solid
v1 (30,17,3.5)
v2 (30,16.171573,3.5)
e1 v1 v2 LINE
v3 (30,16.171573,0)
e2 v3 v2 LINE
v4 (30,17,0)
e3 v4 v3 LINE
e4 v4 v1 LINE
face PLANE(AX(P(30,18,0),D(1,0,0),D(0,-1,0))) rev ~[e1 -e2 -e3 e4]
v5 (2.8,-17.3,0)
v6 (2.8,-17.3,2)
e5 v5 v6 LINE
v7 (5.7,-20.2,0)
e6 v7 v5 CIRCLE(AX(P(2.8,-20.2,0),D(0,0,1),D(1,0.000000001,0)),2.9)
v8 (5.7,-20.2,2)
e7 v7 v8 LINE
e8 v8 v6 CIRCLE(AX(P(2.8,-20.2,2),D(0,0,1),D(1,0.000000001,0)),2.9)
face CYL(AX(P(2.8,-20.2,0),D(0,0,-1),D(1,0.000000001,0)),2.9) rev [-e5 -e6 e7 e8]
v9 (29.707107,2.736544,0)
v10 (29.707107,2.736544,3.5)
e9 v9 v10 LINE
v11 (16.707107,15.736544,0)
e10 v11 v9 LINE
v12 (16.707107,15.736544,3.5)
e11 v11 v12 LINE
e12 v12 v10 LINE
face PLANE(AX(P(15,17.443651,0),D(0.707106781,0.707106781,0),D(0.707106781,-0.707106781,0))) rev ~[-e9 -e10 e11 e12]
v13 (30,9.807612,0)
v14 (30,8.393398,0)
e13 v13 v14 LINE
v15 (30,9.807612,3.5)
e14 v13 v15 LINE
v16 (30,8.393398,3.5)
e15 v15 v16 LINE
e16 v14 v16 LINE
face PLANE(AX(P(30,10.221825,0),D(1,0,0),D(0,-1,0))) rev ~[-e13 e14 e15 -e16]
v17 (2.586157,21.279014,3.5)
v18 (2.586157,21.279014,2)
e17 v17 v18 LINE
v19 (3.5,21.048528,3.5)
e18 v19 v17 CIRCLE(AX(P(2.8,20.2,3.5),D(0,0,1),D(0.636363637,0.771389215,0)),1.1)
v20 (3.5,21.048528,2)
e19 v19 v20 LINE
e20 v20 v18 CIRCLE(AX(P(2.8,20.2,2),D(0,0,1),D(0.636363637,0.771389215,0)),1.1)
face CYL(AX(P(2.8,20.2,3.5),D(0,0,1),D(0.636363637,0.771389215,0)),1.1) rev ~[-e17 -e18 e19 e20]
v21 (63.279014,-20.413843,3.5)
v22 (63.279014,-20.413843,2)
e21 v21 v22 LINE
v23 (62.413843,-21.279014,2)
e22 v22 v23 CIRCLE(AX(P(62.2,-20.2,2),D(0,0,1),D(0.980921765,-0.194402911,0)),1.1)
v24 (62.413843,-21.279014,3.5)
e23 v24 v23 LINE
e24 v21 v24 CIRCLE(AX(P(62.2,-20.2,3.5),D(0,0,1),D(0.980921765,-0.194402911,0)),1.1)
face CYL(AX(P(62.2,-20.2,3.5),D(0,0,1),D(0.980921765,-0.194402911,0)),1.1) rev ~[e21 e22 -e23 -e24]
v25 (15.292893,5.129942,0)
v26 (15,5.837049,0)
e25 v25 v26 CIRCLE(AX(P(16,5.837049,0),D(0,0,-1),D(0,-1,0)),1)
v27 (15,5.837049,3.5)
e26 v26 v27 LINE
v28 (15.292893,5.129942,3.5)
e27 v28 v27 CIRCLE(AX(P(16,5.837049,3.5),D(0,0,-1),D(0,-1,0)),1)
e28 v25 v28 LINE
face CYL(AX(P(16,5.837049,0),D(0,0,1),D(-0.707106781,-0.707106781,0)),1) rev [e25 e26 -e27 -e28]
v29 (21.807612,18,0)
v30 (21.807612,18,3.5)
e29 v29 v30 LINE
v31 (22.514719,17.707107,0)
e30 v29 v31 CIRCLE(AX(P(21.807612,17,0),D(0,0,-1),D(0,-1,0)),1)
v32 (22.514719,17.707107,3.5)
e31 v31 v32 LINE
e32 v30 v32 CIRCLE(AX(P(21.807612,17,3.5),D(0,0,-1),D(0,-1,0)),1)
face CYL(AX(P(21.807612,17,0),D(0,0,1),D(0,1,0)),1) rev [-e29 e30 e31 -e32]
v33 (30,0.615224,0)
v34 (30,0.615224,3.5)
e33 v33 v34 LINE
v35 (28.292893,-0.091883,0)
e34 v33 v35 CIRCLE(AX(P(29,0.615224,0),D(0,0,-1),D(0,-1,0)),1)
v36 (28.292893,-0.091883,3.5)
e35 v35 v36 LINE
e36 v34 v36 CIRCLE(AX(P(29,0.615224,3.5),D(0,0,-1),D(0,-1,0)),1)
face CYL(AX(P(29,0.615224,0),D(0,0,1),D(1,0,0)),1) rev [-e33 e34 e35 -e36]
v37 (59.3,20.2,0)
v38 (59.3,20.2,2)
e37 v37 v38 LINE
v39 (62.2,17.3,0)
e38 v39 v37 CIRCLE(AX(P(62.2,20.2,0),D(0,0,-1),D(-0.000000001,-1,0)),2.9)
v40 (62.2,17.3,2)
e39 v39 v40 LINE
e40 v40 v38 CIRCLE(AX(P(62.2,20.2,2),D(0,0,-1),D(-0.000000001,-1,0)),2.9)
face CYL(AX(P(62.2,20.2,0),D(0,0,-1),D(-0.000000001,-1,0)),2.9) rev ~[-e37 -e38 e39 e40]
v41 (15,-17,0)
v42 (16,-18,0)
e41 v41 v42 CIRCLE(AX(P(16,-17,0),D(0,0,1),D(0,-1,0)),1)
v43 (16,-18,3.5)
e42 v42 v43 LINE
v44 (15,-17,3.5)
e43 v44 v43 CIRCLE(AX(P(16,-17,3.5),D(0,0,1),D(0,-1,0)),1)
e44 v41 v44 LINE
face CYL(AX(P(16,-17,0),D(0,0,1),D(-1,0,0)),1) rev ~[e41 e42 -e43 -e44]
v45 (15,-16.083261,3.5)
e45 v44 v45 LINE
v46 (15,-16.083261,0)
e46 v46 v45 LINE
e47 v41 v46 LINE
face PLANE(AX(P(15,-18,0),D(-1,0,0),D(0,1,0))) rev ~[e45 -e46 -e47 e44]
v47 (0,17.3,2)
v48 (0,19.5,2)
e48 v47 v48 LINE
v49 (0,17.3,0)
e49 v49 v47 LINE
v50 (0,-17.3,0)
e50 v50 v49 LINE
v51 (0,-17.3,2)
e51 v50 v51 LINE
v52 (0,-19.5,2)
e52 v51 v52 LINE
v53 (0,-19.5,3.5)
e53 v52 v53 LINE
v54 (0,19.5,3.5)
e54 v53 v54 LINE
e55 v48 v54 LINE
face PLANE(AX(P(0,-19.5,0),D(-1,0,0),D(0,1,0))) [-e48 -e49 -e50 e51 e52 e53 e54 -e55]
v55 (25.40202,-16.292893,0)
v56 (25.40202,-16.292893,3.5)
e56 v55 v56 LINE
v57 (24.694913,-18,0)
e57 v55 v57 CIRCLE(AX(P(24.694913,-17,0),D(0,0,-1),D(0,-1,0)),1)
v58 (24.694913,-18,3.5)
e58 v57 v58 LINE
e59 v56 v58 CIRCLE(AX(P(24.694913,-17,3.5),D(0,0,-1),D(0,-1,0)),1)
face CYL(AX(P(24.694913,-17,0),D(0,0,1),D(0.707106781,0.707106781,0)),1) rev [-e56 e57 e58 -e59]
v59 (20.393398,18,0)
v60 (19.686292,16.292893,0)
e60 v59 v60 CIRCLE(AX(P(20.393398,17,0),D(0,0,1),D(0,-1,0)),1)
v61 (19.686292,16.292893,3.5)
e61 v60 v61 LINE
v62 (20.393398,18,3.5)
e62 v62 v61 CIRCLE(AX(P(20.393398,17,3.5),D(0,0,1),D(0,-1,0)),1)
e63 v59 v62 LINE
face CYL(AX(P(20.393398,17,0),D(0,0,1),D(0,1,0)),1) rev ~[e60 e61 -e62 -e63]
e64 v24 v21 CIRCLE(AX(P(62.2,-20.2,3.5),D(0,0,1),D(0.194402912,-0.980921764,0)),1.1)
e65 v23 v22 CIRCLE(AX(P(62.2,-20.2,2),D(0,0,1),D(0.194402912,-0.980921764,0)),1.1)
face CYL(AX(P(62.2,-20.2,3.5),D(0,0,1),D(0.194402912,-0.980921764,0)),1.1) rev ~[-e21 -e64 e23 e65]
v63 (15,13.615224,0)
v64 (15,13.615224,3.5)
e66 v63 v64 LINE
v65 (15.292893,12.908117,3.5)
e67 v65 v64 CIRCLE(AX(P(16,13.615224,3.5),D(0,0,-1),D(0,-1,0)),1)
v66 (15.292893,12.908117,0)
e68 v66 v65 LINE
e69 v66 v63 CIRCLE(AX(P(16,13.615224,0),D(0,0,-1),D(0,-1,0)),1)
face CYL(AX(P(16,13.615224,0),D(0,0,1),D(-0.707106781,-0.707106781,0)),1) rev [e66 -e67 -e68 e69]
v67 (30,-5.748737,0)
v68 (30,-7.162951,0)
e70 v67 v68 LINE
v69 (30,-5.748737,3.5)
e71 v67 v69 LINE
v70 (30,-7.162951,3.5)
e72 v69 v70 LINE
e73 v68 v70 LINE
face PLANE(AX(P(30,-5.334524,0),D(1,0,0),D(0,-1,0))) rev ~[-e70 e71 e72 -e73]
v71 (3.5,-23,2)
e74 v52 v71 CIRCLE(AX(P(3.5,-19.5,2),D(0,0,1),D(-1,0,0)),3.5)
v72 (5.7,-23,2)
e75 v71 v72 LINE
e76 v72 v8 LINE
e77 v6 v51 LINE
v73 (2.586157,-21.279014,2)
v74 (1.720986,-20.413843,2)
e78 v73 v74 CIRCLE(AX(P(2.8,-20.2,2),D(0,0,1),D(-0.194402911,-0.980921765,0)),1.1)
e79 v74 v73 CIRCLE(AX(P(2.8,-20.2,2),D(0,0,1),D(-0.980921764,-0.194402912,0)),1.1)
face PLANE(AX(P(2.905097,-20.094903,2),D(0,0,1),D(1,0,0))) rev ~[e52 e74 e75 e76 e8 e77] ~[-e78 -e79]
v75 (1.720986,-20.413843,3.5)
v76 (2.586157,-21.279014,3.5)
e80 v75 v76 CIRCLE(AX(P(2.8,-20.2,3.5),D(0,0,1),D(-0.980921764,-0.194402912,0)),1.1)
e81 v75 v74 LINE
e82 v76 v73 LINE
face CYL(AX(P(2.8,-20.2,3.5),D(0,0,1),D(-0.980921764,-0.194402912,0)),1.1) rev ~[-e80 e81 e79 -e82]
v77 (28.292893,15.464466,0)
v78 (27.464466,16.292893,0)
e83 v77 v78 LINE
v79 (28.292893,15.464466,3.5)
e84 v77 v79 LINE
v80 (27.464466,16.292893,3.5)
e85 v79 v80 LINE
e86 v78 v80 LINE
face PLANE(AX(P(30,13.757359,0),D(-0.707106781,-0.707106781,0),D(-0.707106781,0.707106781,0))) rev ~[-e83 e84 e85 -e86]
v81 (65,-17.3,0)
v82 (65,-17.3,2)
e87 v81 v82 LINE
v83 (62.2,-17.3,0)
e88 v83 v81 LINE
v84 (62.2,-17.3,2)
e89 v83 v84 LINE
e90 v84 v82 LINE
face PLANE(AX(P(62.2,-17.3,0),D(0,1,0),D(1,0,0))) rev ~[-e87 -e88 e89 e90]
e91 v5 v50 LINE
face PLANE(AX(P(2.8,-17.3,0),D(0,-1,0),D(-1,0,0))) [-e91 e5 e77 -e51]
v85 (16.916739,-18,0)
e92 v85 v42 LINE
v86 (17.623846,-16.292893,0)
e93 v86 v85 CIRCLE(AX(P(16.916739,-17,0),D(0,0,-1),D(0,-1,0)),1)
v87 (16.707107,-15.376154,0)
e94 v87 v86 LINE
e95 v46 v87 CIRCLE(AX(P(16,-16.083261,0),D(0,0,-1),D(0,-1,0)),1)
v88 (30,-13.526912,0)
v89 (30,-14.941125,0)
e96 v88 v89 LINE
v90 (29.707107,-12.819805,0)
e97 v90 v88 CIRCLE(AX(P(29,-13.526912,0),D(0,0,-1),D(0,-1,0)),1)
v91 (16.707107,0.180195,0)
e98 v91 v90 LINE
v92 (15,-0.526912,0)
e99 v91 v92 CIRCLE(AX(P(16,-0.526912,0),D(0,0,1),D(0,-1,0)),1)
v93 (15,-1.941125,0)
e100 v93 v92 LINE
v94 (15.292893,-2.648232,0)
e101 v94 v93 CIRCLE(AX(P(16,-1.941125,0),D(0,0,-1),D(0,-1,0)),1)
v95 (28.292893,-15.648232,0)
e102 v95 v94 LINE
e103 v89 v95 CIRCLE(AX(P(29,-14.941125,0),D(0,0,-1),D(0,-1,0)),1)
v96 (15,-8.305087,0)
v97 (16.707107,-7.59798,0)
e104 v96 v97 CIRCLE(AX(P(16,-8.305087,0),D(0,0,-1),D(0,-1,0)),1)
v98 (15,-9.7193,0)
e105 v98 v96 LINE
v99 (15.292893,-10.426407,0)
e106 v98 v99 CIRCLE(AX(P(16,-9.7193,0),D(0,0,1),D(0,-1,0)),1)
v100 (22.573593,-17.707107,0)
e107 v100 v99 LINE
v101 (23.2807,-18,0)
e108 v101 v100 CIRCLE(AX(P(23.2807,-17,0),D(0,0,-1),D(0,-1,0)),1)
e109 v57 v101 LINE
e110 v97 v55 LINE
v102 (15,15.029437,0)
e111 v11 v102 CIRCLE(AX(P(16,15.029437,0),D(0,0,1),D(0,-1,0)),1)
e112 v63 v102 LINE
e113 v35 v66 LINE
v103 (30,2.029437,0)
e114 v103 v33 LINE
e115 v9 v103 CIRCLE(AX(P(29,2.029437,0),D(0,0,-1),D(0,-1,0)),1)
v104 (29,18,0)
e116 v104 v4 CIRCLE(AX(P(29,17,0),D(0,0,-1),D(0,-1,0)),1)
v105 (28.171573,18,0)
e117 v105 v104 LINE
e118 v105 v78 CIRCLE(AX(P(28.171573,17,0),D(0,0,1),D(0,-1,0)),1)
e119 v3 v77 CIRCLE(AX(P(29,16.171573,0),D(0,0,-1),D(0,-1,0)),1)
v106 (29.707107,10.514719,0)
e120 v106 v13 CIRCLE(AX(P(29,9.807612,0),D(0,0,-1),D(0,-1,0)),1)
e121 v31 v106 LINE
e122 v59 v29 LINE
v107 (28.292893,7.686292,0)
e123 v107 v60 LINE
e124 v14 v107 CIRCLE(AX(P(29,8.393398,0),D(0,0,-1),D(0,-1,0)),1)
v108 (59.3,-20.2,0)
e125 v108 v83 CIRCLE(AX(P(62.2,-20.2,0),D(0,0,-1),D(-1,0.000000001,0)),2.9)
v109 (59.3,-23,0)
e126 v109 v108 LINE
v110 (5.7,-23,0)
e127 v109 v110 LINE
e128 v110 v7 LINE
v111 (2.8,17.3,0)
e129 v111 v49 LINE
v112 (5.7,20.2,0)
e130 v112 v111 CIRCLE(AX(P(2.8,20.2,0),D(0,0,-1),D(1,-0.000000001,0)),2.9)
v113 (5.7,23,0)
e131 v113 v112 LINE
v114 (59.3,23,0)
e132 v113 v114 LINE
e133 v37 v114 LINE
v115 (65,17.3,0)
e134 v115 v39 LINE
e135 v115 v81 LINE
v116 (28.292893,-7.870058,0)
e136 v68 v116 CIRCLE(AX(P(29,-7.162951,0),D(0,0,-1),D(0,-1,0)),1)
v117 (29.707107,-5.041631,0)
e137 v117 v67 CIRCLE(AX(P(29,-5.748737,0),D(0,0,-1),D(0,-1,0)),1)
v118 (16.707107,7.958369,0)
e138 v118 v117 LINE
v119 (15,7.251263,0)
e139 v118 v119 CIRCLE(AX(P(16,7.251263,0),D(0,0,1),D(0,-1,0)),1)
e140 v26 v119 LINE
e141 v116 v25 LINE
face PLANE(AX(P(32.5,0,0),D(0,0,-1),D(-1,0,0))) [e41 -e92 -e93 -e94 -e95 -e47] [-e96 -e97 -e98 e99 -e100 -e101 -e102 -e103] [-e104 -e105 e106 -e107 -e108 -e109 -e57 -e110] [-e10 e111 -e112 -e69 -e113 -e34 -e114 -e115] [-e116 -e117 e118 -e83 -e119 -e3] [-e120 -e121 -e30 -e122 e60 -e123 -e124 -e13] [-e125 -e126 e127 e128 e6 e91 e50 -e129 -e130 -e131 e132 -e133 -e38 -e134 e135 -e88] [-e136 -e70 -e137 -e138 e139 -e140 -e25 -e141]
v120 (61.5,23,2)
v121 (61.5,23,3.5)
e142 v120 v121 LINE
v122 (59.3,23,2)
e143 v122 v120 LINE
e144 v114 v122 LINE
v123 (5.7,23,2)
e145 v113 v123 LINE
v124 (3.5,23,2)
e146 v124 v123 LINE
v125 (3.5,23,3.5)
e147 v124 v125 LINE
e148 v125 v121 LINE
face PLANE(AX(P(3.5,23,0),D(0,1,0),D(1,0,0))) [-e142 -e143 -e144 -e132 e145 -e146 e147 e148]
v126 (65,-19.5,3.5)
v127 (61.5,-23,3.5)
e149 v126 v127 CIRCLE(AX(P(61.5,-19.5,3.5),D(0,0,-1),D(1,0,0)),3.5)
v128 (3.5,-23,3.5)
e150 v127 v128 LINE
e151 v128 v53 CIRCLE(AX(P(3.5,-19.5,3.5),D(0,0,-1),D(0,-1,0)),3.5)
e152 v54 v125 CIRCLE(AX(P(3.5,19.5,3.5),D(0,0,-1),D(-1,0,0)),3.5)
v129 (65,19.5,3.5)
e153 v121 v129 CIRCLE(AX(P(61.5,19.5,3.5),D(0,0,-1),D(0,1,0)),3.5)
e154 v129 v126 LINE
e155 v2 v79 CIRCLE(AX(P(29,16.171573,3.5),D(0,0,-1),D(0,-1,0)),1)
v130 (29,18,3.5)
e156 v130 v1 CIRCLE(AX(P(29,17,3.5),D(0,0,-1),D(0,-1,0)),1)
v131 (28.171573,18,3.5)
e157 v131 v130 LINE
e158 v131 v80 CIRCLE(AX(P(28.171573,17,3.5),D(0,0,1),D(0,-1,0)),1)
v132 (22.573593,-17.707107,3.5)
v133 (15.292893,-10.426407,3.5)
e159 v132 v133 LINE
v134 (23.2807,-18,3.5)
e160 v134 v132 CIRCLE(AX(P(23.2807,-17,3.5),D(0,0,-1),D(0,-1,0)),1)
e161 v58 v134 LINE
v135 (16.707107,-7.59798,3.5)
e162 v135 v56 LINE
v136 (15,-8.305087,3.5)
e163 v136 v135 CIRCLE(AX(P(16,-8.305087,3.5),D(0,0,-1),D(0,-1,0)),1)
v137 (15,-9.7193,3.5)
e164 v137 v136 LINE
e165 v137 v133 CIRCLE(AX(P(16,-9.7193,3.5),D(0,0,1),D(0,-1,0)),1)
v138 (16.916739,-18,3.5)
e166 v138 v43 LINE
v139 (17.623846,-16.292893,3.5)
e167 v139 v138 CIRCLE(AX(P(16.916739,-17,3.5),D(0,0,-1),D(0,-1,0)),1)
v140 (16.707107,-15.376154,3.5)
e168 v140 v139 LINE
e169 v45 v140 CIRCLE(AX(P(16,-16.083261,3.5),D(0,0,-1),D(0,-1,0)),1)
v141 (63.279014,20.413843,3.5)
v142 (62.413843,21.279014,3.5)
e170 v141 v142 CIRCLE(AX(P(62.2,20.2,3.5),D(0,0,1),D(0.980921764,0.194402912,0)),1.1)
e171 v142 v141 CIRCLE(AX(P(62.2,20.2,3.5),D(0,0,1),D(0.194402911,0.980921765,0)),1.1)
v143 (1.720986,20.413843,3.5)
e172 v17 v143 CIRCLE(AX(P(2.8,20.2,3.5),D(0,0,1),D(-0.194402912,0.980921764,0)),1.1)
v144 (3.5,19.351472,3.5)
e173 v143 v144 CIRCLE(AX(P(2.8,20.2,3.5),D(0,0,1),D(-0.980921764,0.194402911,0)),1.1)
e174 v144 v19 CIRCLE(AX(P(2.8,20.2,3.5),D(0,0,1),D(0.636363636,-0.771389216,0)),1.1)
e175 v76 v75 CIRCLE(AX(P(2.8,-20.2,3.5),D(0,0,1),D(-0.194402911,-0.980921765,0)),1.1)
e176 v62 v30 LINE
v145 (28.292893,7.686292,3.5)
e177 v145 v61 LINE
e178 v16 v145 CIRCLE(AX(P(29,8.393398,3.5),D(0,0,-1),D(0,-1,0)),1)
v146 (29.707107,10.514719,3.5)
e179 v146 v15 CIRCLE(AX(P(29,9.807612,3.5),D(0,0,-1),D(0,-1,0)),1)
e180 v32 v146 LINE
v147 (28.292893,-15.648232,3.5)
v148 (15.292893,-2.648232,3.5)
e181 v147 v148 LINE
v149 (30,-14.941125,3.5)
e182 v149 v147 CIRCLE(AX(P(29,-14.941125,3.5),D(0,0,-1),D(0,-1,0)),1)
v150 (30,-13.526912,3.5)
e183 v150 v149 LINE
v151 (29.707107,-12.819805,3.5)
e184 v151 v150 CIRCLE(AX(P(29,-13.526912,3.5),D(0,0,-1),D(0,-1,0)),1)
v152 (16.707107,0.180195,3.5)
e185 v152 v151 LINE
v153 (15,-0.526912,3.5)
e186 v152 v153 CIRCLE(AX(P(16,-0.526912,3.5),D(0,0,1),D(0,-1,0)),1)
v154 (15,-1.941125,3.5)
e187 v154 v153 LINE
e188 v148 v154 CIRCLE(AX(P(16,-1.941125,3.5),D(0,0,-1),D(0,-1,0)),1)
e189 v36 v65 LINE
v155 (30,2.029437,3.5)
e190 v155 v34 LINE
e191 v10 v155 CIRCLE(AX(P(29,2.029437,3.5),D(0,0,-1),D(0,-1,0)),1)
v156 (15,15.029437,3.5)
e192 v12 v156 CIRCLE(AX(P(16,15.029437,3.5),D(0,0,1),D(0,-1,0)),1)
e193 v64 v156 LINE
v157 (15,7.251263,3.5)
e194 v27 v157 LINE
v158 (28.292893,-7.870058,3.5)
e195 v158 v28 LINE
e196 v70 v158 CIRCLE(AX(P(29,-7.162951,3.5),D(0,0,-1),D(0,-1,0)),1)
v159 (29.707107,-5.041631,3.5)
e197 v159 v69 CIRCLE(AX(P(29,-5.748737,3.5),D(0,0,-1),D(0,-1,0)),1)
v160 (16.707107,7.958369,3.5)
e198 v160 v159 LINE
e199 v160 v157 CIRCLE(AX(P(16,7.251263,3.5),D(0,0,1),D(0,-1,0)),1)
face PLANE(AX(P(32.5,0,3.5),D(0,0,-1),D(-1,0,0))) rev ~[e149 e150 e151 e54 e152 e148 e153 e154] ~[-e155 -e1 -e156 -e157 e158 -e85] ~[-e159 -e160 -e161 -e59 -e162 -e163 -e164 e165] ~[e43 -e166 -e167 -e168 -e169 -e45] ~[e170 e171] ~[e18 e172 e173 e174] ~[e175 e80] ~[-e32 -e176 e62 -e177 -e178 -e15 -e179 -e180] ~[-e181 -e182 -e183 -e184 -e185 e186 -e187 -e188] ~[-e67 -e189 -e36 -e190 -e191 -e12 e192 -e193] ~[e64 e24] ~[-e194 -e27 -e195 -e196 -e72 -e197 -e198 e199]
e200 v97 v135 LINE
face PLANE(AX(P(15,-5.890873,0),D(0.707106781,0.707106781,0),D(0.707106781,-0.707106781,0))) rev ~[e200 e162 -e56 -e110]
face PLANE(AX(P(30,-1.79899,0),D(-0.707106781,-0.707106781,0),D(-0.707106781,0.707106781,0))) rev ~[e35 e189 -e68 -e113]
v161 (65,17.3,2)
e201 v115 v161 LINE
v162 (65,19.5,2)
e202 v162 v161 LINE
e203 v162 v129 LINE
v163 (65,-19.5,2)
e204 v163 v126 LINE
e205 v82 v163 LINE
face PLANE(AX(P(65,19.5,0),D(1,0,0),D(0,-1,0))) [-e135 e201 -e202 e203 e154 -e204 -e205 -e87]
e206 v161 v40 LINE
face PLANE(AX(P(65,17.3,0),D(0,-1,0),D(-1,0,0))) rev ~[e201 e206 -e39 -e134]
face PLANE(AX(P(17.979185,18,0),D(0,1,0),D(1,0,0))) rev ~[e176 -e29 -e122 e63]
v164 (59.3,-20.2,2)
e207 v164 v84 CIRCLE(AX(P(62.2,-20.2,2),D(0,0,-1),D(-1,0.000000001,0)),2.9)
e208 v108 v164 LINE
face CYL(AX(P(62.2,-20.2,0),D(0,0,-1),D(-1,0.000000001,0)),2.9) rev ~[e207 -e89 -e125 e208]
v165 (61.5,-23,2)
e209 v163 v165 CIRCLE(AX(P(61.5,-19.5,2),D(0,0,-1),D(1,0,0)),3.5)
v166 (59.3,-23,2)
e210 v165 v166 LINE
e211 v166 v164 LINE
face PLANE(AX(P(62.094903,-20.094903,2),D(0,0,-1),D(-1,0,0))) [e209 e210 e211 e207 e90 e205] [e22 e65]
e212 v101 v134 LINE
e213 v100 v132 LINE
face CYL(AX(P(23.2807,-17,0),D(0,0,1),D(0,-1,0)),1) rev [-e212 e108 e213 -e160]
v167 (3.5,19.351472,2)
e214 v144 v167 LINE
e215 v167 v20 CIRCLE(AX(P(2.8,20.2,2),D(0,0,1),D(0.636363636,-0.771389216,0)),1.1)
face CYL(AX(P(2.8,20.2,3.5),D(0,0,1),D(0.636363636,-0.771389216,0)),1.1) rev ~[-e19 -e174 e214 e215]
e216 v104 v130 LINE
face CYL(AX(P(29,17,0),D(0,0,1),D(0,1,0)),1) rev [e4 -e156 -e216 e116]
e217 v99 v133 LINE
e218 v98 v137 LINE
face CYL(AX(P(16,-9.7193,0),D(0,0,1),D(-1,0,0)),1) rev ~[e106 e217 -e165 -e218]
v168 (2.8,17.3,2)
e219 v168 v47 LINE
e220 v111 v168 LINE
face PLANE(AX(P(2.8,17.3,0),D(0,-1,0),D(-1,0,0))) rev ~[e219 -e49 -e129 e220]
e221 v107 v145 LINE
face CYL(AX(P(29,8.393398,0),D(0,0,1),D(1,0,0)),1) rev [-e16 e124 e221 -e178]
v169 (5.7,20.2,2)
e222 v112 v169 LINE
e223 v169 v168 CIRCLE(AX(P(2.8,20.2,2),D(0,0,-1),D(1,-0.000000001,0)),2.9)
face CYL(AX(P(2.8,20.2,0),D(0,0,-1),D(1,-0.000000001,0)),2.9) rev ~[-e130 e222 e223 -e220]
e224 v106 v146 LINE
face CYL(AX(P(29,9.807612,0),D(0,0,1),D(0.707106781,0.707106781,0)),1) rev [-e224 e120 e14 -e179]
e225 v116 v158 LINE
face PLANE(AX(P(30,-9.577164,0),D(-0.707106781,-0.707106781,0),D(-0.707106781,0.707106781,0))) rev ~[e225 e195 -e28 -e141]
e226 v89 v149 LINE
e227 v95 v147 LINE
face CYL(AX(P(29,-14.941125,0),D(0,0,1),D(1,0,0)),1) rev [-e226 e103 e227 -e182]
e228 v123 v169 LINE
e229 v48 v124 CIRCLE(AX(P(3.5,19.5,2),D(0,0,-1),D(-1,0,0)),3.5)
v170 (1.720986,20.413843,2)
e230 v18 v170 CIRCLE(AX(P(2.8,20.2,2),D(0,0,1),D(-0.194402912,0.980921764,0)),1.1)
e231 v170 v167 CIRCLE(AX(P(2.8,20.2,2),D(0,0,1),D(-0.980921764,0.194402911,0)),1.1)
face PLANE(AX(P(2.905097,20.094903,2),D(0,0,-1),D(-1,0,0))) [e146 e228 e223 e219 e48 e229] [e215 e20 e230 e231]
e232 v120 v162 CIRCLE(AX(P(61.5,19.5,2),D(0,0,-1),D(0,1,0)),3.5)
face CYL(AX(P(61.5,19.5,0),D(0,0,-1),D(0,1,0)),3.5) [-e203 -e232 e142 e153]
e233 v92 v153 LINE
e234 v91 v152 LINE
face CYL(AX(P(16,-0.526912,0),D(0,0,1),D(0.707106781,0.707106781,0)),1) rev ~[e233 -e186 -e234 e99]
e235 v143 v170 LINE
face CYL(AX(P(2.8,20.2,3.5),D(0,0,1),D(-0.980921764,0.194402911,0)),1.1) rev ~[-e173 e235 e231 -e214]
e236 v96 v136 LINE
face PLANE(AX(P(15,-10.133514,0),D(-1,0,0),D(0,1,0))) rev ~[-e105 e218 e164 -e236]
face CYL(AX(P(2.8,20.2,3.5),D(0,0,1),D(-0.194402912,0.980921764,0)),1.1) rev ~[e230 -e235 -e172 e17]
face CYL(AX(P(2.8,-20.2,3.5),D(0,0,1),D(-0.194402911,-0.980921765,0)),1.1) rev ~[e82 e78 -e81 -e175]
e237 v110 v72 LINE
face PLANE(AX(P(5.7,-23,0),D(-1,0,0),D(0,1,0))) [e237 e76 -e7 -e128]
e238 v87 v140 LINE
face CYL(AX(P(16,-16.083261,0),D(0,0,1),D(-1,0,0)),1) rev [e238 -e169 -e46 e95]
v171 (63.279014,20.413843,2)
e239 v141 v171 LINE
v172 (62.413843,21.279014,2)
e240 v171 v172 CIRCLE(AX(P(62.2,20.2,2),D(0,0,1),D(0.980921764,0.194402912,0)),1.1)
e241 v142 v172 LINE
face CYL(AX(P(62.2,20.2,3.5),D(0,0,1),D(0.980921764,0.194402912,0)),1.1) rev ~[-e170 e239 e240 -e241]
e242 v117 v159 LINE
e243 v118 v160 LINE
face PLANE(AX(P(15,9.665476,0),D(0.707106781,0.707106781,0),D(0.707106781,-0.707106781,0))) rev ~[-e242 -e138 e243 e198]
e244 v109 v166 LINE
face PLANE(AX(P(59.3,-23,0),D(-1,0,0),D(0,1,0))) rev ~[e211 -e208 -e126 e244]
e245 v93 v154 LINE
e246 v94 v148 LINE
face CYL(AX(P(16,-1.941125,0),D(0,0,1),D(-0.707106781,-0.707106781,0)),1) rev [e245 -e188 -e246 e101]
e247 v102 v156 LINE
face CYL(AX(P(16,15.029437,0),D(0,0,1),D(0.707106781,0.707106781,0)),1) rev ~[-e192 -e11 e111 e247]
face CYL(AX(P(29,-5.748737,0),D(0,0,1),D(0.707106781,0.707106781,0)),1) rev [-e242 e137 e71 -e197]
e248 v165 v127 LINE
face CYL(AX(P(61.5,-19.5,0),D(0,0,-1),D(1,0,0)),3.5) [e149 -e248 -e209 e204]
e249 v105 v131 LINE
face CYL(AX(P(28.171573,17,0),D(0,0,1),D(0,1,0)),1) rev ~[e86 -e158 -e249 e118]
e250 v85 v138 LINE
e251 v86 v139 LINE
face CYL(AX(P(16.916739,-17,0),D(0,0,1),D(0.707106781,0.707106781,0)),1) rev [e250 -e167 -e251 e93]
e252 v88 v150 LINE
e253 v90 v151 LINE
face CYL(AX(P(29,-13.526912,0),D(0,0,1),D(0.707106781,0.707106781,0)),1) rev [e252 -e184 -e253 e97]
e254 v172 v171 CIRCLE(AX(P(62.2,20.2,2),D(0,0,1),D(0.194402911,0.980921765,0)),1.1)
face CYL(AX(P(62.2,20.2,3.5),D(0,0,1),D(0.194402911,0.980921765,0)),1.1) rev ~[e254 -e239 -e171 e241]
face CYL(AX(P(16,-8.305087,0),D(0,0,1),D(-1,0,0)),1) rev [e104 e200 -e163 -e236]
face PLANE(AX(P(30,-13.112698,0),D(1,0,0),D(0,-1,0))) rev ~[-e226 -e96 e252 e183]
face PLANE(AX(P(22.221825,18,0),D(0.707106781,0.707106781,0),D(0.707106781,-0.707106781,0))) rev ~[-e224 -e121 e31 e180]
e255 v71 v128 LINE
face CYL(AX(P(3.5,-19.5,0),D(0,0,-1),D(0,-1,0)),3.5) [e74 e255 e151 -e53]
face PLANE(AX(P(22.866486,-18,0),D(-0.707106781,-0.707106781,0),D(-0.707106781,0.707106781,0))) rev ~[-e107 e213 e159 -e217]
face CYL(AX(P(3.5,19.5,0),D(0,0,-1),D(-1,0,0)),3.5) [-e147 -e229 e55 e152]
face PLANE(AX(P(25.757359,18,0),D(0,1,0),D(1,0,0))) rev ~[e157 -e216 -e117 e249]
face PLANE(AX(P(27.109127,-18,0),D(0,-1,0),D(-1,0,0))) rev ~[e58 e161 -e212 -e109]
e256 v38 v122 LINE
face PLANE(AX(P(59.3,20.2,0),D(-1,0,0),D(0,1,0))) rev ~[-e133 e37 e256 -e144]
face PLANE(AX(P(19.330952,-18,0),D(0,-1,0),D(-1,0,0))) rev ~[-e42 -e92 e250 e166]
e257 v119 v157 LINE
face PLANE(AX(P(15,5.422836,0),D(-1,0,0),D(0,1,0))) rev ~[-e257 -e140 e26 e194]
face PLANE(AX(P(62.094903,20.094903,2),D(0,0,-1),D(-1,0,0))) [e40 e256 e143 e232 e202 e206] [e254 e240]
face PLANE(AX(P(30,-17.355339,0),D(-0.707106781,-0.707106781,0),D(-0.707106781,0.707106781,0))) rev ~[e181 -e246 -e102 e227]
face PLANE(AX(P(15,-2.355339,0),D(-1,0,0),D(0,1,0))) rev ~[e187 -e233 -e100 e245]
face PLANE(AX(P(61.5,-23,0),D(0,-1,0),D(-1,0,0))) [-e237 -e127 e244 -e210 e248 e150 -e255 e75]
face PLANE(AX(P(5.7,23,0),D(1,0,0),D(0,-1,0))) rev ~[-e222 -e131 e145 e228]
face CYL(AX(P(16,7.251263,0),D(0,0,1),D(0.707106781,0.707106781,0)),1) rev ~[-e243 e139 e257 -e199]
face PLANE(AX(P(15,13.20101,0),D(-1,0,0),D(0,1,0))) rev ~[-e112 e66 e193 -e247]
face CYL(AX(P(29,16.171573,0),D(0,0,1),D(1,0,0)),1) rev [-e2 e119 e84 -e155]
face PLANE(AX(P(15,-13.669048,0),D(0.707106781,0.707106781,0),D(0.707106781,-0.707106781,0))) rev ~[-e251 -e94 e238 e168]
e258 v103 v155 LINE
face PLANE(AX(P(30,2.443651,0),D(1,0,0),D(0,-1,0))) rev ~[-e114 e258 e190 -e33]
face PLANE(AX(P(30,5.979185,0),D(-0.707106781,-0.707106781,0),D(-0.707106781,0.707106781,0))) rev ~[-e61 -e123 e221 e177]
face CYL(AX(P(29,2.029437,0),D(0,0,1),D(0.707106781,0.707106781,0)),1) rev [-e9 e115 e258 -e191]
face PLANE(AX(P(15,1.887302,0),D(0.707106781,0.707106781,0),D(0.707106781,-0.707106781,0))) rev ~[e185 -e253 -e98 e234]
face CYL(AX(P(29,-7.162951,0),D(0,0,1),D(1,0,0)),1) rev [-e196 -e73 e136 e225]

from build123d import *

# Parameters (mm, degrees)
BOSS_EXTRUDE1_DEPTH = 3.5
CUT_EXTRUDE1_DEPTH  = 10
CUT_EXTRUDE2_DEPTH  = 2
CUT_EXTRUDE3_DEPTH  = 4
FILLET2_R           = 1


with BuildPart() as part:
    # Sketch1 → Boss-Extrude1 (new body)
    with BuildSketch(Plane.XY):
        with BuildLine():
            Line((3.5, 23), (61.5, 23))
            ThreePointArc((61.5, 23), (63.974873734, 21.974873734), (65, 19.5))
            Line((65, 19.5), (65, -19.5))
            ThreePointArc((65, -19.5), (63.974873734, -21.974873734), (61.5, -23))
            Line((61.5, -23), (3.5, -23))
            ThreePointArc((3.5, -23), (1.025126266, -21.974873734), (0, -19.5))
            Line((0, -19.5), (0, 19.5))
            ThreePointArc((0, 19.5), (1.025126266, 21.974873734), (3.5, 23))
        make_face()
    extrude(amount=BOSS_EXTRUDE1_DEPTH)

    # Sketch2 → Cut-Extrude1 (cut)
    with BuildSketch(Plane.XY.offset(3.5)):
        with BuildLine():
            ThreePointArc((1.720986059, -20.413843202), (2.022182541, -20.977817459), (2.586156798, -21.279013941))
            ThreePointArc((2.586156798, -21.279013941), (3.577817459, -19.422182541), (1.720986059, -20.413843202))
        make_face()
        with BuildLine():
            ThreePointArc((2.586156798, 21.279013941), (2.022182541, 20.977817459), (1.720986059, 20.413843202))
            ThreePointArc((1.720986059, 20.413843202), (2.236022068, 19.255580129), (3.5, 19.351471863))
            ThreePointArc((3.5, 19.351471863), (3.9, 20.2), (3.5, 21.048528137))
            ThreePointArc((3.5, 21.048528137), (3.069013075, 21.266598315), (2.586156798, 21.279013941))
        make_face()
        with BuildLine():
            ThreePointArc((62.413843202, -21.279013941), (62.977817459, -20.977817459), (63.279013941, -20.413843202))
            ThreePointArc((63.279013941, -20.413843202), (61.422182541, -19.422182541), (62.413843202, -21.279013941))
        make_face()
        with BuildLine():
            ThreePointArc((63.279013941, 20.413843202), (62.977817459, 20.977817459), (62.413843202, 21.279013941))
            ThreePointArc((62.413843202, 21.279013941), (61.422182541, 19.422182541), (63.279013941, 20.413843202))
        make_face()
    extrude(amount=-CUT_EXTRUDE1_DEPTH, mode=Mode.SUBTRACT)

    # Sketch3 → Cut-Extrude2 (cut)
    with BuildSketch(Plane(origin=(0, 0, 0), x_dir=(-1, 0, 0), z_dir=(0, 0, -1))):
        with BuildLine():
            Line((-2.8, -17.3), (0, -17.3))
            Line((0, -17.3), (0, -19.5))
            ThreePointArc((0, -19.5), (-1.025126266, -21.974873734), (-3.5, -23))
            Line((-3.5, -23), (-5.7, -23))
            Line((-5.7, -23), (-5.7, -20.2))
            ThreePointArc((-5.7, -20.2), (-4.850609665, -18.149390335), (-2.8, -17.3))
        make_face()
        with BuildLine():
            Line((-2.8, 17.3), (0, 17.3))
            Line((0, 17.3), (0, 19.5))
            ThreePointArc((0, 19.5), (-1.025126266, 21.974873734), (-3.5, 23))
            Line((-3.5, 23), (-5.7, 23))
            Line((-5.7, 23), (-5.7, 20.2))
            ThreePointArc((-5.7, 20.2), (-4.850609665, 18.149390335), (-2.8, 17.3))
        make_face()
        with BuildLine():
            Line((-59.3, 20.2), (-59.3, 23))
            Line((-59.3, 23), (-61.5, 23))
            ThreePointArc((-61.5, 23), (-63.974873734, 21.974873734), (-65, 19.5))
            Line((-65, 19.5), (-65, 17.3))
            Line((-65, 17.3), (-62.2, 17.3))
            ThreePointArc((-62.2, 17.3), (-60.149390335, 18.149390335), (-59.3, 20.2))
        make_face()
        with BuildLine():
            Line((-62.2, -17.3), (-65, -17.3))
            Line((-65, -17.3), (-65, -19.5))
            ThreePointArc((-65, -19.5), (-63.974873734, -21.974873734), (-61.5, -23))
            Line((-61.5, -23), (-59.3, -23))
            Line((-59.3, -23), (-59.3, -20.2))
            ThreePointArc((-59.3, -20.2), (-60.149390335, -18.149390335), (-62.2, -17.3))
        make_face()
    extrude(amount=-CUT_EXTRUDE2_DEPTH, mode=Mode.SUBTRACT)

    # Sketch4 → Cut-Extrude3 (cut)
    with BuildSketch(Plane(origin=(0, 0, 0), x_dir=(-1, 0, 0), z_dir=(0, 0, -1))):
        Polygon((-25.757359313, 18), (-30, 18), (-30, 13.757359313), align=None)
        Polygon((-17.97918472, 18), (-22.221825407, 18), (-30, 10.221825407), (-30, 5.97918472), align=None)
        Polygon((-15, 17.443650814), (-30, 2.443650814), (-30, -1.798989873), (-15, 13.201010127), align=None)
        Polygon((-15, 9.665476221), (-30, -5.334523779), (-30, -9.577164466), (-15, 5.422835534), align=None)
        Polygon((-15, 1.887301628), (-30, -13.112698372), (-30, -17.355339059), (-15, -2.355339059), align=None)
        Polygon((-15, -10.133513652), (-15, -5.890872965), (-27.109127035, -18), (-22.866486348, -18), align=None)
        Polygon((-15, -18), (-15, -13.669047558), (-19.330952442, -18), align=None)
    extrude(amount=-CUT_EXTRUDE3_DEPTH, mode=Mode.SUBTRACT)

    # Fillet2
    fillet2_edges = [part.edges().sort_by_distance(p)[0] for p in [
        (30, -9.577164466, 1.75),
        (30, -5.334523779, 1.75),
        (15, 9.665476221, 1.75),
        (15, 5.422835534, 1.75),
        (30, -17.355339059, 1.75),
        (30, -13.112698372, 1.75),
        (15, 1.887301628, 1.75),
        (15, -2.355339059, 1.75),
        (30, 5.97918472, 1.75),
        (30, 10.221825407, 1.75),
        (22.221825407, 18, 1.75),
        (17.97918472, 18, 1.75),
        (30, -1.798989873, 1.75),
        (30, 2.443650814, 1.75),
        (15, 17.443650814, 1.75),
        (15, 13.201010127, 1.75),
        (19.330952442, -18, 1.75),
        (15, -13.669047558, 1.75),
        (15, -18, 1.75),
        (22.866486348, -18, 1.75),
        (27.109127035, -18, 1.75),
        (15, -5.890872965, 1.75),
        (15, -10.133513652, 1.75),
        (30, 13.757359313, 1.75),
        (30, 18, 1.75),
        (25.757359313, 18, 1.75),
    ]]
    fillet(fillet2_edges, radius=FILLET2_R)


solid = part.part
